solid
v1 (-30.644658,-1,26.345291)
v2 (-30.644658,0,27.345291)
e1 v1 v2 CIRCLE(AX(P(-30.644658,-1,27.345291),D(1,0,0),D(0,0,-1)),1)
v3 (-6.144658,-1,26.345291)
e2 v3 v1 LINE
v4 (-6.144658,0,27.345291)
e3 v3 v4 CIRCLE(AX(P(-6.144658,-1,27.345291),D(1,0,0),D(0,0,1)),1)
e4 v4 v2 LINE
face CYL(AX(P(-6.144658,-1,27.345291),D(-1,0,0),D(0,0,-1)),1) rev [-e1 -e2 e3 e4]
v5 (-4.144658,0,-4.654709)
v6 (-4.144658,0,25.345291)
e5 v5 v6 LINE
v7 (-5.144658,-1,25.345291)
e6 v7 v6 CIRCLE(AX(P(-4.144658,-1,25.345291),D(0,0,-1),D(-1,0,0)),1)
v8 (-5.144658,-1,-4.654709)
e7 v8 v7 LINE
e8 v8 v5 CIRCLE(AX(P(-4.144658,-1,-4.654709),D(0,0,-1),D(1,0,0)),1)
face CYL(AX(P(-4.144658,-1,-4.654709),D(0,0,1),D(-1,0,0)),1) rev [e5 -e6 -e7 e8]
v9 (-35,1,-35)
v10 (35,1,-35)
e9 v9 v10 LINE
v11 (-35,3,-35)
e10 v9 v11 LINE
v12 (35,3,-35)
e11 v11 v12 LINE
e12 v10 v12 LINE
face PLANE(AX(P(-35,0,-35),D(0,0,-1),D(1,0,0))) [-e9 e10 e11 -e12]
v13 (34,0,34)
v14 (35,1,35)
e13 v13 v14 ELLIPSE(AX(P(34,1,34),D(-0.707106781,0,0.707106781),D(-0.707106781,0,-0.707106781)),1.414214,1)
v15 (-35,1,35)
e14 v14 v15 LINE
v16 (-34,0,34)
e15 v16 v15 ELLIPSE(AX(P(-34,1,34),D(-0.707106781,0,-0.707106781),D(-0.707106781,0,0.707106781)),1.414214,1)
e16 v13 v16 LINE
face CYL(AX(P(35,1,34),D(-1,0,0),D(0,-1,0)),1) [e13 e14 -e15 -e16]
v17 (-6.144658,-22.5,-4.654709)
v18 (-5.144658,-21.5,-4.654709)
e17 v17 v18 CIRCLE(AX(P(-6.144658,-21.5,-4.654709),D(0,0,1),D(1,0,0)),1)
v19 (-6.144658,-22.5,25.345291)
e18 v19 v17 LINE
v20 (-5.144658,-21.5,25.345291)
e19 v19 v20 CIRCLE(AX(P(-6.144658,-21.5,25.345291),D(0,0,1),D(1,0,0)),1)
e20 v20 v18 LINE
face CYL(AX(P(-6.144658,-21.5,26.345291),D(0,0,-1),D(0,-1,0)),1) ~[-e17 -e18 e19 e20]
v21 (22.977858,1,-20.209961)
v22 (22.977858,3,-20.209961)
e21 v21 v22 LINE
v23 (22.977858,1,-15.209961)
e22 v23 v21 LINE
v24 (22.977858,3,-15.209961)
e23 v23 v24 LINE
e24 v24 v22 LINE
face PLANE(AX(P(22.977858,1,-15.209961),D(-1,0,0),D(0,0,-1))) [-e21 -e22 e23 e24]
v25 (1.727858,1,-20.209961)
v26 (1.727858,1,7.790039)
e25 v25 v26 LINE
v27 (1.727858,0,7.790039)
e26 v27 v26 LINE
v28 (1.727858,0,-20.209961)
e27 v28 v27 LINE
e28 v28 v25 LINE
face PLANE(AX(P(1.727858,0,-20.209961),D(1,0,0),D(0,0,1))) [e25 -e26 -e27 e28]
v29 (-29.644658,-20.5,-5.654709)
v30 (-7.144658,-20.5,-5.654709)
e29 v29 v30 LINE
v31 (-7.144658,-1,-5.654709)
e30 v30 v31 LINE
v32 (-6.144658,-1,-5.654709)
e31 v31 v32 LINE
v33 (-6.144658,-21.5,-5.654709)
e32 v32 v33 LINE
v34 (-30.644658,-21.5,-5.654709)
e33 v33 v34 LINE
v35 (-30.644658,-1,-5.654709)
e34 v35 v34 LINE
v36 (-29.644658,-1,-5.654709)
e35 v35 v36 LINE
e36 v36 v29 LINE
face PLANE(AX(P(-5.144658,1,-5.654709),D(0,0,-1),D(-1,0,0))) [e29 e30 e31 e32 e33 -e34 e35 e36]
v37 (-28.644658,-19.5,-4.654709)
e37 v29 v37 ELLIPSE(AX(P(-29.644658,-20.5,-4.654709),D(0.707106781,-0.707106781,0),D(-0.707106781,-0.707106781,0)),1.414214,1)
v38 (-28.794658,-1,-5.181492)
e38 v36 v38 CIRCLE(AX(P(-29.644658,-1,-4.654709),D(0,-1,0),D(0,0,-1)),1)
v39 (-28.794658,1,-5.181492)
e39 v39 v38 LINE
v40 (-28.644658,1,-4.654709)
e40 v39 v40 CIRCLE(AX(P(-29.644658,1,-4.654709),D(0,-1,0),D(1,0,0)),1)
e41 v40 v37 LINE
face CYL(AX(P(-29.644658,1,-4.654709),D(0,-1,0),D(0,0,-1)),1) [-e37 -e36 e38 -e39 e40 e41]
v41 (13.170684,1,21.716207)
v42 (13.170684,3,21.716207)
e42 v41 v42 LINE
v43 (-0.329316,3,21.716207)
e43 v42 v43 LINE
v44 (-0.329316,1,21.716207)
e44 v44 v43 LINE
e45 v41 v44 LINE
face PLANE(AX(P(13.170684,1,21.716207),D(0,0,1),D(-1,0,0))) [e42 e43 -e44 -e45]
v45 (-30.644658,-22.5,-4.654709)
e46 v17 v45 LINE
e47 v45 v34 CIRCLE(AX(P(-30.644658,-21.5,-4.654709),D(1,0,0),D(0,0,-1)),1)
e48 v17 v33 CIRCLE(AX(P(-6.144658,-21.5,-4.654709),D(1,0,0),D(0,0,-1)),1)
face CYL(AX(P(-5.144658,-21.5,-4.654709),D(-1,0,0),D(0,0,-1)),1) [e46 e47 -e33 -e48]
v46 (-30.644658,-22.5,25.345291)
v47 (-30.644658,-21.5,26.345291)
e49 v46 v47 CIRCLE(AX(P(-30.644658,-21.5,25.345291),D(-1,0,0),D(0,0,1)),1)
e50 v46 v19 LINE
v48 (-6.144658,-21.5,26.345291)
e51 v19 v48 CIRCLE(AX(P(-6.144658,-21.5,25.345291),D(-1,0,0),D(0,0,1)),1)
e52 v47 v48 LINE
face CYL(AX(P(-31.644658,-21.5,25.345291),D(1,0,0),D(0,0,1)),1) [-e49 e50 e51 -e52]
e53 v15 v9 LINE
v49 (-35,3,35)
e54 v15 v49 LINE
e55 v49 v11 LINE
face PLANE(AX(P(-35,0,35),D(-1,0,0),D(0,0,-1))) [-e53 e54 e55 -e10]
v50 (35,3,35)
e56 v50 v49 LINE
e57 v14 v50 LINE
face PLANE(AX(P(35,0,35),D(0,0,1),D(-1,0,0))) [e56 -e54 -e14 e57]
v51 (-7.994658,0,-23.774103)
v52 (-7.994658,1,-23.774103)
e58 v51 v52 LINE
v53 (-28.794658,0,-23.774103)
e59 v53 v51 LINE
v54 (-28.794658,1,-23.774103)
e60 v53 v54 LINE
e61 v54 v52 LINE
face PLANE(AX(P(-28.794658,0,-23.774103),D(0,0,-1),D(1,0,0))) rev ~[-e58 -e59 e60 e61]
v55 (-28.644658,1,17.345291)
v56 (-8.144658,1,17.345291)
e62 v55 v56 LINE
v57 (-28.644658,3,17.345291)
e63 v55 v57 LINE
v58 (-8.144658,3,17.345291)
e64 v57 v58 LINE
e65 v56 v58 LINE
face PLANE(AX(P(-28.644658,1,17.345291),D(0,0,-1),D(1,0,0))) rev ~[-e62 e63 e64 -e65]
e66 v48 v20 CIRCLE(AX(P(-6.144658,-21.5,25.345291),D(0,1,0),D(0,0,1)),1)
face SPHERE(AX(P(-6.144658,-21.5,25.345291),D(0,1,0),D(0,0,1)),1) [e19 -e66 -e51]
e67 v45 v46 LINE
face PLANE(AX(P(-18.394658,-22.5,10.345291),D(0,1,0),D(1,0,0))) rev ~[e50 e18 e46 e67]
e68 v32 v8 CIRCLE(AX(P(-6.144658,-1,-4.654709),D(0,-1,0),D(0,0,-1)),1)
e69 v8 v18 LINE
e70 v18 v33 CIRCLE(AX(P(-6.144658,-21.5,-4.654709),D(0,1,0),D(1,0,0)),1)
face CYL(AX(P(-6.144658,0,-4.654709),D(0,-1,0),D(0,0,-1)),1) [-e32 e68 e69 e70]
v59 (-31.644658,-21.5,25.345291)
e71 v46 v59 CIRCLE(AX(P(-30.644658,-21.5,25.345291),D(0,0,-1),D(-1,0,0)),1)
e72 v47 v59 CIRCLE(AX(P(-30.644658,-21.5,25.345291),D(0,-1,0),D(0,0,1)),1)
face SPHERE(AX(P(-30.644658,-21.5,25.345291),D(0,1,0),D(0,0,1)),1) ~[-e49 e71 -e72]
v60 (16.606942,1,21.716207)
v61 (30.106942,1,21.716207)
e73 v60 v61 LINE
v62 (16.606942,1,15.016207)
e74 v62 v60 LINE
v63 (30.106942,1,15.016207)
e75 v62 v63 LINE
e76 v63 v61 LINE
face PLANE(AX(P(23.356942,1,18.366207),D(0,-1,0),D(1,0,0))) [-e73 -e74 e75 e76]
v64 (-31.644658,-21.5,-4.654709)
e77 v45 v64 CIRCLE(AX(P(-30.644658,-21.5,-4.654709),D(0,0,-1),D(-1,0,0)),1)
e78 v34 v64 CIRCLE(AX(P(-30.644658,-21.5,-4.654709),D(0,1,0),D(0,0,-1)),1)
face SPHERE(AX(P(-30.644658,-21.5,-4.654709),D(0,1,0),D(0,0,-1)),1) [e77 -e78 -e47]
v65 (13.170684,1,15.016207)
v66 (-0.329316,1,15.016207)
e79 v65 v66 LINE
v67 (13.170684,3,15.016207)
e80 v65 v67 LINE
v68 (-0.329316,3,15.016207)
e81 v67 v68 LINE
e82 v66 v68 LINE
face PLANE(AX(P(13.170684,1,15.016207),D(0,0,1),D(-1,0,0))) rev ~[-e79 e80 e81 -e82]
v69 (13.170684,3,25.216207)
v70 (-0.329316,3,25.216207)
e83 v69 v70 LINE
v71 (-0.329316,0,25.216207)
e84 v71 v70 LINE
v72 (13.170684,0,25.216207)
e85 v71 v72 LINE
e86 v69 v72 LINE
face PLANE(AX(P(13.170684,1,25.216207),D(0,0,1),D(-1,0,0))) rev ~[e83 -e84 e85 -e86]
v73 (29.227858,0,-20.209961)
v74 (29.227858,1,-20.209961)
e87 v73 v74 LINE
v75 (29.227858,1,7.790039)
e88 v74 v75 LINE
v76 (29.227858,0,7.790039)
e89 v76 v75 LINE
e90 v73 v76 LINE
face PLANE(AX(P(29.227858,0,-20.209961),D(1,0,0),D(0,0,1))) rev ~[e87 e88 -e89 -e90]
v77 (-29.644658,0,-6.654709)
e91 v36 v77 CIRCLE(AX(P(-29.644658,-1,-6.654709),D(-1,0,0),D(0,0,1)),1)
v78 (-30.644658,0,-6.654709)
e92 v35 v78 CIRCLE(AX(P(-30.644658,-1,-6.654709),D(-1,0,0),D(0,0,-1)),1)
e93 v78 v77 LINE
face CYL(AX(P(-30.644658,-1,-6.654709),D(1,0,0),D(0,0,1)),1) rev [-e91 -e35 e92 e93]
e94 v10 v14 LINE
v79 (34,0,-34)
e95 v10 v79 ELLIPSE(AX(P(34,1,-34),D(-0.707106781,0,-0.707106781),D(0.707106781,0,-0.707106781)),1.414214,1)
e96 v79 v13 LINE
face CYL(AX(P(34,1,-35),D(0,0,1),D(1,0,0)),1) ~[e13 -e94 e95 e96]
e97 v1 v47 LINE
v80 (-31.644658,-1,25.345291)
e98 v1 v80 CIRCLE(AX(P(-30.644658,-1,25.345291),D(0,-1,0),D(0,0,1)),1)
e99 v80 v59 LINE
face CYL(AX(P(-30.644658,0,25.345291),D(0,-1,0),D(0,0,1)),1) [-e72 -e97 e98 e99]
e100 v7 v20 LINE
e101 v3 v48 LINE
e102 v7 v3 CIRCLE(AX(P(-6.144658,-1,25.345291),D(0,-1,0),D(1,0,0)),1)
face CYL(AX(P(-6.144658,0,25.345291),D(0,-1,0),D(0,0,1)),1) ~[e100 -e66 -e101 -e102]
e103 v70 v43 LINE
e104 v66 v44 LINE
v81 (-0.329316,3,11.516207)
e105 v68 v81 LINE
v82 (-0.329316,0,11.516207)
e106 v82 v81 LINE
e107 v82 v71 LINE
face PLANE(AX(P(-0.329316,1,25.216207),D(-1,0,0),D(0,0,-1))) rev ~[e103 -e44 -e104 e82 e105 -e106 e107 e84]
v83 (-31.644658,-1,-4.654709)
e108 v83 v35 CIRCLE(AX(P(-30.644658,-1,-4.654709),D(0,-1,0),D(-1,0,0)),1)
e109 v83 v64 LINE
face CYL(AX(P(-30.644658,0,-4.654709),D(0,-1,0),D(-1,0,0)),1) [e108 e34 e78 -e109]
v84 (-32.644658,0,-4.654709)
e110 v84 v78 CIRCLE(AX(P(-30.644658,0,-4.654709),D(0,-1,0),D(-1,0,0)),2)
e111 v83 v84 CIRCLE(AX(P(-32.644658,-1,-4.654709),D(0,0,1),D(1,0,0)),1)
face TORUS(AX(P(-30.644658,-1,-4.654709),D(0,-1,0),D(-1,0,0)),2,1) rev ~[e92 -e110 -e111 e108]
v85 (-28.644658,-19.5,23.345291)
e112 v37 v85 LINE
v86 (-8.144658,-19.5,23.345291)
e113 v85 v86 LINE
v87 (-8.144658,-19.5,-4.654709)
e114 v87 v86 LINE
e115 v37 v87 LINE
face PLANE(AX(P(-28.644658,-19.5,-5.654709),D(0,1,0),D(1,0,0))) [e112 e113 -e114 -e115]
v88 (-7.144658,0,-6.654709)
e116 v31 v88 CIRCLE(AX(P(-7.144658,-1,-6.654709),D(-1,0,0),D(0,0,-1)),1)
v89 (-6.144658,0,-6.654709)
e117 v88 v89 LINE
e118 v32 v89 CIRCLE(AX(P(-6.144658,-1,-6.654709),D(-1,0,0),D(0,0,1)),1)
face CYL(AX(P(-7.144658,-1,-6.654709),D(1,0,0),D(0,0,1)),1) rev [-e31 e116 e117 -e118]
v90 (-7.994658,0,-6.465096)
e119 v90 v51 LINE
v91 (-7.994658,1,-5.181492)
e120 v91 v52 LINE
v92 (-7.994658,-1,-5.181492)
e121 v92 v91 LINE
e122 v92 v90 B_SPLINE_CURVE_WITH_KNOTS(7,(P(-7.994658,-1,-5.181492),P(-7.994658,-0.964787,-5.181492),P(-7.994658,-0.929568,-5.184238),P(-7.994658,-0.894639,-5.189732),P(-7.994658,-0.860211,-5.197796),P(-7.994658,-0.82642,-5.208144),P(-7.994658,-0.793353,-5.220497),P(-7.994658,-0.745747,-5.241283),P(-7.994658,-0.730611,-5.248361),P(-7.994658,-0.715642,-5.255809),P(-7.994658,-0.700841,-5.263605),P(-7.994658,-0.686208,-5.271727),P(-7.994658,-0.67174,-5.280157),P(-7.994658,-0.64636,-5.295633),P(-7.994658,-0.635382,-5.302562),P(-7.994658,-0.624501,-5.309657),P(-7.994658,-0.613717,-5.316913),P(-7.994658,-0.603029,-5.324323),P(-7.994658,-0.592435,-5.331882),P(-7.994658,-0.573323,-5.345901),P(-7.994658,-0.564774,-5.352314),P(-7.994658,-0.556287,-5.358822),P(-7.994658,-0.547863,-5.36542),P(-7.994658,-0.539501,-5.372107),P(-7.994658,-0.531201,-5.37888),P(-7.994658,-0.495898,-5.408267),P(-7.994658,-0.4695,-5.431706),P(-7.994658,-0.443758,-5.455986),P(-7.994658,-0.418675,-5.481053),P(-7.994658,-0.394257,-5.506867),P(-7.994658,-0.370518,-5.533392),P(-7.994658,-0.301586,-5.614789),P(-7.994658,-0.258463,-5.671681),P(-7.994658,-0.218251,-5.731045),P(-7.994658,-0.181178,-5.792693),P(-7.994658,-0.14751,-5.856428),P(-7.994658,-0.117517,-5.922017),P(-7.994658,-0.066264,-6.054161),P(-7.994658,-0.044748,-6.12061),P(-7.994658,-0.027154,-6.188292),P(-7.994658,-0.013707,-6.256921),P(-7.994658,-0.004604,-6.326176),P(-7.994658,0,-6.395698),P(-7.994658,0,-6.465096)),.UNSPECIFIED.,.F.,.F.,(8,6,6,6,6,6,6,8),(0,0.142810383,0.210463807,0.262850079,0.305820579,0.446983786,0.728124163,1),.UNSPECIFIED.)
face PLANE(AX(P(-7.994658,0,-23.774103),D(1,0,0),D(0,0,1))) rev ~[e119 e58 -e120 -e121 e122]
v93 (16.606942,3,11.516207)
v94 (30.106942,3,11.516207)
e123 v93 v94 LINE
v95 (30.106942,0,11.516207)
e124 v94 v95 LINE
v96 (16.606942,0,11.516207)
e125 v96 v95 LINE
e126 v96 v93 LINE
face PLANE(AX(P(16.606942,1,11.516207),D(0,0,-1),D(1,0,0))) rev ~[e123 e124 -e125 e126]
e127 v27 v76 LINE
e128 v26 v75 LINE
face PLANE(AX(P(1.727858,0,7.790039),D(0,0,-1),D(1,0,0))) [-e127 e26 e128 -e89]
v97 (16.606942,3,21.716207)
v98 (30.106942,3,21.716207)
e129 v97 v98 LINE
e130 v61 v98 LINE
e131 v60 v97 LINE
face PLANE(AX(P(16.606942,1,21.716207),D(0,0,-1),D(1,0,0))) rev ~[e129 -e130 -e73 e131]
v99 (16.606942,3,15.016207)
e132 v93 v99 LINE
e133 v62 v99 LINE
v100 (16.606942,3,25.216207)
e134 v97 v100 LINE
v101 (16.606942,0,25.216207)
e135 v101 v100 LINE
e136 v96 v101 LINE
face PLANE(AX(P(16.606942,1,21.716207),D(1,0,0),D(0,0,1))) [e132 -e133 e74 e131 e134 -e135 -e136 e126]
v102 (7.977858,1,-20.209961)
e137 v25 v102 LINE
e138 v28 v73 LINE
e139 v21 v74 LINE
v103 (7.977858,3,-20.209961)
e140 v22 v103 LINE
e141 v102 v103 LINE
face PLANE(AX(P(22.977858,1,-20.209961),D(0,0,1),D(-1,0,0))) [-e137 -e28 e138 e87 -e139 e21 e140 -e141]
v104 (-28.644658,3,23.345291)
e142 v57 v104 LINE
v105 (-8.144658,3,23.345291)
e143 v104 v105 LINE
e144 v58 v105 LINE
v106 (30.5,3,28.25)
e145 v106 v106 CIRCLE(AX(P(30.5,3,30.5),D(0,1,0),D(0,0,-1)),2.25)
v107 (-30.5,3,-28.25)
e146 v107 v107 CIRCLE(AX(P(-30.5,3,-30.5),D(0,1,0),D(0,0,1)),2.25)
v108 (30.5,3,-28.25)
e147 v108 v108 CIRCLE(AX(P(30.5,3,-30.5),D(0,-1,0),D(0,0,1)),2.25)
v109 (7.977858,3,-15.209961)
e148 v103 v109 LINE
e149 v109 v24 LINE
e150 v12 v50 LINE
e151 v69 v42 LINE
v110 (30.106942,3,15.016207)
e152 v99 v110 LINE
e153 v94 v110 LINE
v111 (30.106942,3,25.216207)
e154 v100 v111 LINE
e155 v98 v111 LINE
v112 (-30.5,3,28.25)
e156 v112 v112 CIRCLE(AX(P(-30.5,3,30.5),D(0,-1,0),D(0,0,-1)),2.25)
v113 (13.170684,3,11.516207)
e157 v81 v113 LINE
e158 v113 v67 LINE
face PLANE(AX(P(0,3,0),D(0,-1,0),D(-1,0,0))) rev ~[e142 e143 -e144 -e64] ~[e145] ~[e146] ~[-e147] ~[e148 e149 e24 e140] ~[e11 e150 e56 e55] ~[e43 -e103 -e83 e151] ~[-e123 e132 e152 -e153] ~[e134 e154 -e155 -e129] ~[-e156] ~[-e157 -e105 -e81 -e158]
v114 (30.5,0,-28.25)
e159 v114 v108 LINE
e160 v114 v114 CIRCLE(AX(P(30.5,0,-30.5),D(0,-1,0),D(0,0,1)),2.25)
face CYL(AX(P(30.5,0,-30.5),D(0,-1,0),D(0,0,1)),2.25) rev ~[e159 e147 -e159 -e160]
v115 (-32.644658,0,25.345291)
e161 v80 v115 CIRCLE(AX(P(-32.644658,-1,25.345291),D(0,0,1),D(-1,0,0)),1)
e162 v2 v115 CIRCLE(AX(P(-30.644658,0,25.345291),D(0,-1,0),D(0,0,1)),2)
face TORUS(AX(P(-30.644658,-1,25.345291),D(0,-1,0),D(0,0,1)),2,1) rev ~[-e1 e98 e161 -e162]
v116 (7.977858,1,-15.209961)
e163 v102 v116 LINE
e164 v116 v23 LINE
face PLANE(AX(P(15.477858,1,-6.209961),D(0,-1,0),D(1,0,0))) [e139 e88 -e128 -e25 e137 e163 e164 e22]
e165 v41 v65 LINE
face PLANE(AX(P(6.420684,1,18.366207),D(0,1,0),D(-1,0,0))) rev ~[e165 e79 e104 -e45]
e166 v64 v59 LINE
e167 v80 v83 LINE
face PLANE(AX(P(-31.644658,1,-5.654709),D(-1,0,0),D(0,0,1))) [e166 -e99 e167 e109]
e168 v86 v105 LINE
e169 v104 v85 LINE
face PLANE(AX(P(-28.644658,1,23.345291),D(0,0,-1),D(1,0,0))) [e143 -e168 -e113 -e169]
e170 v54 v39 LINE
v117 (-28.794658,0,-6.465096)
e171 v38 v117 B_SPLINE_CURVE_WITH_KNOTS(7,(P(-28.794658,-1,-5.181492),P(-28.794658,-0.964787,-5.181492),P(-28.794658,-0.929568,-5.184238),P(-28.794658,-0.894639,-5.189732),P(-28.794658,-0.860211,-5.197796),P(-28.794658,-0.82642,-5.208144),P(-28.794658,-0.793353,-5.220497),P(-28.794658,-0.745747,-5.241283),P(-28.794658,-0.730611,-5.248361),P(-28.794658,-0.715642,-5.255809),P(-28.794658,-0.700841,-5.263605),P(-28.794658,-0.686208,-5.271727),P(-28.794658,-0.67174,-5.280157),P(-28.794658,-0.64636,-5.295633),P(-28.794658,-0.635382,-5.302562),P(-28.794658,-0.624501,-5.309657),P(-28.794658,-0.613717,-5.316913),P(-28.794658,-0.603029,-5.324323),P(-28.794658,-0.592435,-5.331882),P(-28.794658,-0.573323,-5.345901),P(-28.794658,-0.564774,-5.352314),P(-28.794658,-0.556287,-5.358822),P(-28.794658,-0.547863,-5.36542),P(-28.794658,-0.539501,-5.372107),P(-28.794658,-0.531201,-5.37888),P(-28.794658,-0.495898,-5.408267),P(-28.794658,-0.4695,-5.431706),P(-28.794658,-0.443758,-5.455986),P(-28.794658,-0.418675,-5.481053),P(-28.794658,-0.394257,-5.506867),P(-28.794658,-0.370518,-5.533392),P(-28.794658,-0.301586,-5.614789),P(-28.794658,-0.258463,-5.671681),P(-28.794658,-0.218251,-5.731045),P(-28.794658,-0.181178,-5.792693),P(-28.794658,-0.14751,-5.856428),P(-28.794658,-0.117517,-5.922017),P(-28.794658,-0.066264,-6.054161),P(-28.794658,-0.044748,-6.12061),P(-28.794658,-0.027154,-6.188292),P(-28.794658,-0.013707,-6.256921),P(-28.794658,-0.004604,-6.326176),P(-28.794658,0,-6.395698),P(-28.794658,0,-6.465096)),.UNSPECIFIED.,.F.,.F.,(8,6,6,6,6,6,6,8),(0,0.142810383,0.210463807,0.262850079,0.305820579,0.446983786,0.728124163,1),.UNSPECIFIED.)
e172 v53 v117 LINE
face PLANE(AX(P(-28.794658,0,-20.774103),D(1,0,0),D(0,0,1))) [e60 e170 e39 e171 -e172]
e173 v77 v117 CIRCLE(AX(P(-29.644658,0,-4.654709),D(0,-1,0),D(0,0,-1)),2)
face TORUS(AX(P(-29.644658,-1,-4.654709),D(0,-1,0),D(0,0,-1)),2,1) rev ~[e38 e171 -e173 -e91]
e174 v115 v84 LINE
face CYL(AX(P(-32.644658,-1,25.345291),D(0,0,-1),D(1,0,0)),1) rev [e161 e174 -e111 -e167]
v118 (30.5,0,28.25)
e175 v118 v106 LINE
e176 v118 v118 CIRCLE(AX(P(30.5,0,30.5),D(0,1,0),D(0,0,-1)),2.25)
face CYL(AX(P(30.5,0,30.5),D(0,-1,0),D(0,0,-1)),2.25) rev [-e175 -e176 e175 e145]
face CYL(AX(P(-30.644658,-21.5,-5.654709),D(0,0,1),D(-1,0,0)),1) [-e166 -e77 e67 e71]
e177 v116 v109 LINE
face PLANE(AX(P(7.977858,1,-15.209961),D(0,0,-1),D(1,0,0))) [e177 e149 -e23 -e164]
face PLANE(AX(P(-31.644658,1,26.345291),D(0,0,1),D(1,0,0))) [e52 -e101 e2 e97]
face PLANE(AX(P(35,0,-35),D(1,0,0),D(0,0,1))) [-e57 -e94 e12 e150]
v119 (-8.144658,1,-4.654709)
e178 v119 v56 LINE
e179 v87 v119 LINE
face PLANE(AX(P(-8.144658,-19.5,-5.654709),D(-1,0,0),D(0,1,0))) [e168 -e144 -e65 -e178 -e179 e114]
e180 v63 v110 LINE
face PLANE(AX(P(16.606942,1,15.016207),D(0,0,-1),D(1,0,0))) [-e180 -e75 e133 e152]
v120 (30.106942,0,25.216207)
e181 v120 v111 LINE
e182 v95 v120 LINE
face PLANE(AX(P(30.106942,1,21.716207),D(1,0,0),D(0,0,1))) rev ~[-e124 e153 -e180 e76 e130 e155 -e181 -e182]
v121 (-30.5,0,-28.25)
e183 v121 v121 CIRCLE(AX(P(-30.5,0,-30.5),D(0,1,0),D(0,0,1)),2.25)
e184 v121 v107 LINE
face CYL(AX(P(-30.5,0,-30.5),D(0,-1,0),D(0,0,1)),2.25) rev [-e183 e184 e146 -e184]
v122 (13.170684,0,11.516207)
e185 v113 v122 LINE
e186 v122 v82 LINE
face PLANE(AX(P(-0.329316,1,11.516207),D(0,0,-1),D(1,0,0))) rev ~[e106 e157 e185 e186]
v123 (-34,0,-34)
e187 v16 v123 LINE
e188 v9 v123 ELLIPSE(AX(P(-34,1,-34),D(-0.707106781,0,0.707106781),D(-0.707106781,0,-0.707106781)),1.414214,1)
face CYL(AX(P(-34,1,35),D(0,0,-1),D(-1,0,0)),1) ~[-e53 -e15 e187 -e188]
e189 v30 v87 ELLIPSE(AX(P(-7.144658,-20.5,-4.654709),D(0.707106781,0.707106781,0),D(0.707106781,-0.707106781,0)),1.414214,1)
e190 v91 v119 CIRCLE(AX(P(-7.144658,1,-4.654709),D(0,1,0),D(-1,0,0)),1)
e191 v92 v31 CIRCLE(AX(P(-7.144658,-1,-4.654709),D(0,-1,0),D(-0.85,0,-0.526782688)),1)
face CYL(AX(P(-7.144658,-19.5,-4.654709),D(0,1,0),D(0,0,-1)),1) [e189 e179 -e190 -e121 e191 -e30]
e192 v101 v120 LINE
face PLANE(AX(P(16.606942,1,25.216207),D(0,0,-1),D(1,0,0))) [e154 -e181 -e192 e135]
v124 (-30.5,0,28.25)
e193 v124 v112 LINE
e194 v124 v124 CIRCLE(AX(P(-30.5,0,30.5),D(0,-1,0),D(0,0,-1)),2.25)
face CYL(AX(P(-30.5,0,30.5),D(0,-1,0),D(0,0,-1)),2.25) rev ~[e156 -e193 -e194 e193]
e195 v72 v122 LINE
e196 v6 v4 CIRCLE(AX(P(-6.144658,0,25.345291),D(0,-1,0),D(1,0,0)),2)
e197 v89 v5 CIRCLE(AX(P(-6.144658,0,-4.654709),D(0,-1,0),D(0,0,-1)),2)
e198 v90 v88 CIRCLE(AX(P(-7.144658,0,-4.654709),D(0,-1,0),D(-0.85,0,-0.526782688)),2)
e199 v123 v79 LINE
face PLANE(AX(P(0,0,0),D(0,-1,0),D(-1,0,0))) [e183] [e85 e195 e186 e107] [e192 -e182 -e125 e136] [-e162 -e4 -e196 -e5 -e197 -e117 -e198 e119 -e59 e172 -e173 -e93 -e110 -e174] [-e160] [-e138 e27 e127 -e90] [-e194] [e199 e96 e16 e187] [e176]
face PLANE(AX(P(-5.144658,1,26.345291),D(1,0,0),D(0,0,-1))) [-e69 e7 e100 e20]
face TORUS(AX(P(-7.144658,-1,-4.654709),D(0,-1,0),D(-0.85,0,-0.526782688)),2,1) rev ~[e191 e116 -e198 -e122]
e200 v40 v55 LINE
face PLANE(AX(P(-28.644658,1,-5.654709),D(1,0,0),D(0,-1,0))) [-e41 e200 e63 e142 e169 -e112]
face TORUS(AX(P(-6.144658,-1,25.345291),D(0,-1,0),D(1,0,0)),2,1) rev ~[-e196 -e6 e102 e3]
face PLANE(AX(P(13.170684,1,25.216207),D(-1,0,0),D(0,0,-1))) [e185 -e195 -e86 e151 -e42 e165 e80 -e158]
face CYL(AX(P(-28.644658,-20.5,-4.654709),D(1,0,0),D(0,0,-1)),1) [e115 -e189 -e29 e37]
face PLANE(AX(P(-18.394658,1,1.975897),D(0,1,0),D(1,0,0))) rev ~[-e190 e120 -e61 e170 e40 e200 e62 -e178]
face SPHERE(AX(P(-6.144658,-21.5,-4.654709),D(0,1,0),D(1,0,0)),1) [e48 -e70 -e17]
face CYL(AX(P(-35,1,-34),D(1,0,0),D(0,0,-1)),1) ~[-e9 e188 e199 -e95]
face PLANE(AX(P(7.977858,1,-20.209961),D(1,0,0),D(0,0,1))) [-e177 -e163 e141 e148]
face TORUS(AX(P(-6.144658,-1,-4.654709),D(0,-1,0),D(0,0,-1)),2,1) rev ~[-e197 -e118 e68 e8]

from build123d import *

# Parameters (mm, degrees)
BOSS_EXTRUDE1_DEPTH                        = 3
SKETCH4_R                                  = 2.250000000000006
CUT_EXTRUDE2_DEPTH                         = 3
MIRROR1_AT_THE_SECOND_PLANE_COPY_1_SKETC_R = 2.250000000000006
MIRROR1_AT_THE_SECOND_PLANE_COPY_1_DEPTH   = 3
FILLET4_R                                  = 1
CUT_EXTRUDE3_DEPTH                         = 1
SKETCH6_W                                  = 27.499999999999993
SKETCH6_H                                  = 27.999999999999996
CUT_EXTRUDE4_DEPTH                         = 1
CUT_EXTRUDE5_DEPTH                         = 3
SKETCH8_W                                  = 13.499999999999996
SKETCH8_H                                  = 13.700000000000003
CUT_EXTRUDE6_DEPTH                         = 1
SKETCH9_W                                  = 13.5
SKETCH9_H                                  = 3.5000000000000036
CUT_EXTRUDE7_DEPTH                         = 3
SKETCH10_W                                 = 13.499999999999996
SKETCH10_H                                 = 3.5000000000000036
SKETCH10_H_2                               = 3.5000000000000018
CUT_EXTRUDE8_DEPTH                         = 3
BOSS_EXTRUDE2_DEPTH                        = 23.5
CUT_EXTRUDE9_DEPTH                         = 29
SKETCH13_W                                 = 20.500000000000004
SKETCH13_H                                 = 6.0000000000000036
CUT_EXTRUDE10_DEPTH                        = 3
FILLET5_R                                  = 1
FILLET6_R                                  = 1
SKETCH14_W                                 = 20.8
SKETCH14_H                                 = 3.0000000000000036
CUT_EXTRUDE11_DEPTH                        = 1


with BuildPart() as part:
    # Sketch1 → Boss-Extrude1 (new body)
    with BuildSketch(Plane(origin=(0, 0, 0), x_dir=(1, 0, 0), z_dir=(0, 1, 0))):
        Polygon((-35, 35.00000000000001), (35, 35.00000000000001), (35.000000000000014, -34.99999999999999), (-35, -34.99999999999999), align=None)
    extrude(amount=BOSS_EXTRUDE1_DEPTH)

    # Sketch4 → Cut-Extrude2 (cut)
    with BuildSketch(Plane(origin=(0, 0, 0), x_dir=(-1, 0, 0), z_dir=(0, -1, 0))):
        with Locations(Location((30.500000000000004, -30.499999999999993, 0), (0, 0, 90))):
            Circle(SKETCH4_R)
    cut_extrude2 = extrude(amount=-CUT_EXTRUDE2_DEPTH, mode=Mode.SUBTRACT)

    # Mirror1: Cut-Extrude2 across plane
    add(cut_extrude2.mirror(Plane(origin=(0, 0, 0), x_dir=(0, 0, 1), z_dir=(1, 0, 0))), mode=Mode.SUBTRACT)

    # Mirror1 at the second plane: Cut-Extrude2 across plane
    add(cut_extrude2.mirror(Plane.XY), mode=Mode.SUBTRACT)

    # Mirror1 at the second plane copy 1 sketc → Mirror1 at the second plane copy 1 (cut)
    with BuildSketch(Plane.XZ):
        with Locations(Location((30.500000000000004, -30.499999999999993, 0), (0, 0, 90))):
            Circle(MIRROR1_AT_THE_SECOND_PLANE_COPY_1_SKETC_R)
    extrude(amount=-MIRROR1_AT_THE_SECOND_PLANE_COPY_1_DEPTH, mode=Mode.SUBTRACT)

    # Fillet4
    fillet4_edges = [part.edges().sort_by_distance(p)[0] for p in [
        (7.11e-15, 0, 34.99999999999999),
        (-35, 0, -7.11e-15),
        (0, 0, -35.00000000000001),
        (35.00000000000001, 0, -7.11e-15),
    ]]
    fillet(fillet4_edges, radius=FILLET4_R)

    # Sketch5 → Cut-Extrude3 (cut)
    with BuildSketch(Plane(origin=(0, 0, 0), x_dir=(-1, 0, 0), z_dir=(0, -1, 0))):
        Polygon((28.79465847473562, -24.725896818258043), (7.994658474735617, -24.725896818258047), (7.994658474735617, 20.774103181741953), (28.79465847473562, 20.774103181741957), align=None)
    extrude(amount=-CUT_EXTRUDE3_DEPTH, mode=Mode.SUBTRACT)

    # Sketch6 → Cut-Extrude4 (cut)
    with BuildSketch(Plane.XZ):
        with Locations((15.477858409688114, -6.209961428811168)):
            Rectangle(SKETCH6_W, SKETCH6_H)
    extrude(amount=-CUT_EXTRUDE4_DEPTH, mode=Mode.SUBTRACT)

    # Sketch7 → Cut-Extrude5 (cut)
    with BuildSketch(Plane(origin=(0, 1, 0), x_dir=(-1, 0, 0), z_dir=(0, -1, 0))):
        Polygon((-7.977858409688114, 15.209961428811162), (-22.977858409688114, 15.20996142881116), (-22.977858409688114, 20.209961428811166), (-7.977858409688114, 20.209961428811166), align=None)
    extrude(amount=-CUT_EXTRUDE5_DEPTH, mode=Mode.SUBTRACT)

    # Sketch8 → Cut-Extrude6 (cut)
    with BuildSketch(Plane.XZ):
        Polygon((-0.32931613637633694, 25.216207013959828), (13.170683863623664, 25.216207013959828), (13.170683863623664, 11.516207013959828), (-0.3293161363763353, 11.516207013959828), align=None)
        with Locations((23.356942305835496, 18.36620701395983)):
            Rectangle(SKETCH8_W, SKETCH8_H)
    extrude(amount=-CUT_EXTRUDE6_DEPTH, mode=Mode.SUBTRACT)

    # Sketch9 → Cut-Extrude7 (cut)
    with BuildSketch(Plane(origin=(0, 1, 0), x_dir=(-1, 0, 0), z_dir=(0, -1, 0))):
        with Locations((-6.420683863623664, -23.46620701395983)):
            Rectangle(SKETCH9_W, SKETCH9_H)
        Polygon((0.3293161363763353, -11.516207013959828), (-13.170683863623664, -11.51620701395983), (-13.170683863623664, -15.01620701395983), (0.3293161363763357, -15.016207013959828), align=None)
    extrude(amount=-CUT_EXTRUDE7_DEPTH, mode=Mode.SUBTRACT)

    # Sketch10 → Cut-Extrude8 (cut)
    with BuildSketch(Plane.XZ.offset(-1)):
        with Locations((23.356942305835496, 23.46620701395983)):
            Rectangle(SKETCH10_W, SKETCH10_H)
        with Locations((23.356942305835496, 13.266207013959828)):
            Rectangle(SKETCH10_W, SKETCH10_H_2)
    extrude(amount=-CUT_EXTRUDE8_DEPTH, mode=Mode.SUBTRACT)

    # Sketch11 → Boss-Extrude2 (add)
    with BuildSketch(Plane(origin=(0, 1, 0), x_dir=(-1, 0, 0), z_dir=(0, -1, 0))):
        Polygon((31.644658474735618, -26.345290910107266), (5.144658474735617, -26.34529091010727), (5.144658474735617, 5.654709089892729), (31.644658474735618, 5.654709089892732), align=None)
    extrude(amount=BOSS_EXTRUDE2_DEPTH)

    # Sketch12 → Cut-Extrude9 (cut)
    with BuildSketch(Plane(origin=(5.6e-16, 0, -5.654709089892728), x_dir=(-1, 0, -1e-16), z_dir=(1e-16, 0, -1))):
        Polygon((8.144658474735618, 1), (28.644658474735618, 1), (28.64465847473562, -19.5), (8.14465847473562, -19.5), align=None)
    extrude(amount=-CUT_EXTRUDE9_DEPTH, mode=Mode.SUBTRACT)

    # Sketch13 → Cut-Extrude10 (cut)
    with BuildSketch(Plane.XZ.offset(-1)):
        with Locations((-18.39465847473562, 20.345290910107273)):
            Rectangle(SKETCH13_W, SKETCH13_H)
    extrude(amount=-CUT_EXTRUDE10_DEPTH, mode=Mode.SUBTRACT)

    # Fillet5
    fillet5_edges = [part.edges().sort_by_distance(p)[0] for p in [
        (-5.144658474735617, -11.25, 26.34529091010727),
        (-31.644658474735618, -11.25, 26.345290910107266),
        (-5.144658474735617, -11.25, -5.654709089892729),
        (-31.644658474735618, -11.25, -5.654709089892732),
        (-28.64465847473562, -9.25, -5.654709089892731),
        (-18.39465847473562, -19.5, -5.65470908989273),
        (-8.144658474735618, -9.25, -5.654709089892729),
        (-18.394658474735618, -22.5, 26.345290910107266),
        (-5.144658474735617, -22.5, 10.34529091010727),
        (-18.394658474735618, -22.5, -5.65470908989273),
        (-31.644658474735618, -22.5, 10.345290910107268),
    ]]
    fillet(fillet5_edges, radius=FILLET5_R)

    # Fillet6
    fillet6_edges = [part.edges().sort_by_distance(p)[0] for p in [
        (-18.394658474735618, 0, 26.345290910107266),
        (-5.144658474735617, 0, 10.34529091010727),
        (-31.644658474735618, 0, 10.345290910107266),
        (-6.644658474735618, 0, -5.654709089892728),
        (-30.144658474735618, 0, -5.654709089892731),
        (-5.43755169354907, 0, 26.052397691293816),
        (-31.351765255922164, 0, 26.052397691293812),
        (-5.437551693549068, 0, -5.361815871079277),
        (-31.351765255922164, 0, -5.361815871079279),
        (-29.15823411660915, -8e-17, -5.528431782639838),
        (-7.631082832861968, 4e-17, -5.528431782639901),
    ]]
    fillet(fillet6_edges, radius=FILLET6_R)

    # Sketch14 → Cut-Extrude11 (cut)
    with BuildSketch(Plane.XZ):
        with Locations((-18.394658474735618, -22.274103181741957)):
            Rectangle(SKETCH14_W, SKETCH14_H)
    extrude(amount=-CUT_EXTRUDE11_DEPTH, mode=Mode.SUBTRACT)


solid = part.part
